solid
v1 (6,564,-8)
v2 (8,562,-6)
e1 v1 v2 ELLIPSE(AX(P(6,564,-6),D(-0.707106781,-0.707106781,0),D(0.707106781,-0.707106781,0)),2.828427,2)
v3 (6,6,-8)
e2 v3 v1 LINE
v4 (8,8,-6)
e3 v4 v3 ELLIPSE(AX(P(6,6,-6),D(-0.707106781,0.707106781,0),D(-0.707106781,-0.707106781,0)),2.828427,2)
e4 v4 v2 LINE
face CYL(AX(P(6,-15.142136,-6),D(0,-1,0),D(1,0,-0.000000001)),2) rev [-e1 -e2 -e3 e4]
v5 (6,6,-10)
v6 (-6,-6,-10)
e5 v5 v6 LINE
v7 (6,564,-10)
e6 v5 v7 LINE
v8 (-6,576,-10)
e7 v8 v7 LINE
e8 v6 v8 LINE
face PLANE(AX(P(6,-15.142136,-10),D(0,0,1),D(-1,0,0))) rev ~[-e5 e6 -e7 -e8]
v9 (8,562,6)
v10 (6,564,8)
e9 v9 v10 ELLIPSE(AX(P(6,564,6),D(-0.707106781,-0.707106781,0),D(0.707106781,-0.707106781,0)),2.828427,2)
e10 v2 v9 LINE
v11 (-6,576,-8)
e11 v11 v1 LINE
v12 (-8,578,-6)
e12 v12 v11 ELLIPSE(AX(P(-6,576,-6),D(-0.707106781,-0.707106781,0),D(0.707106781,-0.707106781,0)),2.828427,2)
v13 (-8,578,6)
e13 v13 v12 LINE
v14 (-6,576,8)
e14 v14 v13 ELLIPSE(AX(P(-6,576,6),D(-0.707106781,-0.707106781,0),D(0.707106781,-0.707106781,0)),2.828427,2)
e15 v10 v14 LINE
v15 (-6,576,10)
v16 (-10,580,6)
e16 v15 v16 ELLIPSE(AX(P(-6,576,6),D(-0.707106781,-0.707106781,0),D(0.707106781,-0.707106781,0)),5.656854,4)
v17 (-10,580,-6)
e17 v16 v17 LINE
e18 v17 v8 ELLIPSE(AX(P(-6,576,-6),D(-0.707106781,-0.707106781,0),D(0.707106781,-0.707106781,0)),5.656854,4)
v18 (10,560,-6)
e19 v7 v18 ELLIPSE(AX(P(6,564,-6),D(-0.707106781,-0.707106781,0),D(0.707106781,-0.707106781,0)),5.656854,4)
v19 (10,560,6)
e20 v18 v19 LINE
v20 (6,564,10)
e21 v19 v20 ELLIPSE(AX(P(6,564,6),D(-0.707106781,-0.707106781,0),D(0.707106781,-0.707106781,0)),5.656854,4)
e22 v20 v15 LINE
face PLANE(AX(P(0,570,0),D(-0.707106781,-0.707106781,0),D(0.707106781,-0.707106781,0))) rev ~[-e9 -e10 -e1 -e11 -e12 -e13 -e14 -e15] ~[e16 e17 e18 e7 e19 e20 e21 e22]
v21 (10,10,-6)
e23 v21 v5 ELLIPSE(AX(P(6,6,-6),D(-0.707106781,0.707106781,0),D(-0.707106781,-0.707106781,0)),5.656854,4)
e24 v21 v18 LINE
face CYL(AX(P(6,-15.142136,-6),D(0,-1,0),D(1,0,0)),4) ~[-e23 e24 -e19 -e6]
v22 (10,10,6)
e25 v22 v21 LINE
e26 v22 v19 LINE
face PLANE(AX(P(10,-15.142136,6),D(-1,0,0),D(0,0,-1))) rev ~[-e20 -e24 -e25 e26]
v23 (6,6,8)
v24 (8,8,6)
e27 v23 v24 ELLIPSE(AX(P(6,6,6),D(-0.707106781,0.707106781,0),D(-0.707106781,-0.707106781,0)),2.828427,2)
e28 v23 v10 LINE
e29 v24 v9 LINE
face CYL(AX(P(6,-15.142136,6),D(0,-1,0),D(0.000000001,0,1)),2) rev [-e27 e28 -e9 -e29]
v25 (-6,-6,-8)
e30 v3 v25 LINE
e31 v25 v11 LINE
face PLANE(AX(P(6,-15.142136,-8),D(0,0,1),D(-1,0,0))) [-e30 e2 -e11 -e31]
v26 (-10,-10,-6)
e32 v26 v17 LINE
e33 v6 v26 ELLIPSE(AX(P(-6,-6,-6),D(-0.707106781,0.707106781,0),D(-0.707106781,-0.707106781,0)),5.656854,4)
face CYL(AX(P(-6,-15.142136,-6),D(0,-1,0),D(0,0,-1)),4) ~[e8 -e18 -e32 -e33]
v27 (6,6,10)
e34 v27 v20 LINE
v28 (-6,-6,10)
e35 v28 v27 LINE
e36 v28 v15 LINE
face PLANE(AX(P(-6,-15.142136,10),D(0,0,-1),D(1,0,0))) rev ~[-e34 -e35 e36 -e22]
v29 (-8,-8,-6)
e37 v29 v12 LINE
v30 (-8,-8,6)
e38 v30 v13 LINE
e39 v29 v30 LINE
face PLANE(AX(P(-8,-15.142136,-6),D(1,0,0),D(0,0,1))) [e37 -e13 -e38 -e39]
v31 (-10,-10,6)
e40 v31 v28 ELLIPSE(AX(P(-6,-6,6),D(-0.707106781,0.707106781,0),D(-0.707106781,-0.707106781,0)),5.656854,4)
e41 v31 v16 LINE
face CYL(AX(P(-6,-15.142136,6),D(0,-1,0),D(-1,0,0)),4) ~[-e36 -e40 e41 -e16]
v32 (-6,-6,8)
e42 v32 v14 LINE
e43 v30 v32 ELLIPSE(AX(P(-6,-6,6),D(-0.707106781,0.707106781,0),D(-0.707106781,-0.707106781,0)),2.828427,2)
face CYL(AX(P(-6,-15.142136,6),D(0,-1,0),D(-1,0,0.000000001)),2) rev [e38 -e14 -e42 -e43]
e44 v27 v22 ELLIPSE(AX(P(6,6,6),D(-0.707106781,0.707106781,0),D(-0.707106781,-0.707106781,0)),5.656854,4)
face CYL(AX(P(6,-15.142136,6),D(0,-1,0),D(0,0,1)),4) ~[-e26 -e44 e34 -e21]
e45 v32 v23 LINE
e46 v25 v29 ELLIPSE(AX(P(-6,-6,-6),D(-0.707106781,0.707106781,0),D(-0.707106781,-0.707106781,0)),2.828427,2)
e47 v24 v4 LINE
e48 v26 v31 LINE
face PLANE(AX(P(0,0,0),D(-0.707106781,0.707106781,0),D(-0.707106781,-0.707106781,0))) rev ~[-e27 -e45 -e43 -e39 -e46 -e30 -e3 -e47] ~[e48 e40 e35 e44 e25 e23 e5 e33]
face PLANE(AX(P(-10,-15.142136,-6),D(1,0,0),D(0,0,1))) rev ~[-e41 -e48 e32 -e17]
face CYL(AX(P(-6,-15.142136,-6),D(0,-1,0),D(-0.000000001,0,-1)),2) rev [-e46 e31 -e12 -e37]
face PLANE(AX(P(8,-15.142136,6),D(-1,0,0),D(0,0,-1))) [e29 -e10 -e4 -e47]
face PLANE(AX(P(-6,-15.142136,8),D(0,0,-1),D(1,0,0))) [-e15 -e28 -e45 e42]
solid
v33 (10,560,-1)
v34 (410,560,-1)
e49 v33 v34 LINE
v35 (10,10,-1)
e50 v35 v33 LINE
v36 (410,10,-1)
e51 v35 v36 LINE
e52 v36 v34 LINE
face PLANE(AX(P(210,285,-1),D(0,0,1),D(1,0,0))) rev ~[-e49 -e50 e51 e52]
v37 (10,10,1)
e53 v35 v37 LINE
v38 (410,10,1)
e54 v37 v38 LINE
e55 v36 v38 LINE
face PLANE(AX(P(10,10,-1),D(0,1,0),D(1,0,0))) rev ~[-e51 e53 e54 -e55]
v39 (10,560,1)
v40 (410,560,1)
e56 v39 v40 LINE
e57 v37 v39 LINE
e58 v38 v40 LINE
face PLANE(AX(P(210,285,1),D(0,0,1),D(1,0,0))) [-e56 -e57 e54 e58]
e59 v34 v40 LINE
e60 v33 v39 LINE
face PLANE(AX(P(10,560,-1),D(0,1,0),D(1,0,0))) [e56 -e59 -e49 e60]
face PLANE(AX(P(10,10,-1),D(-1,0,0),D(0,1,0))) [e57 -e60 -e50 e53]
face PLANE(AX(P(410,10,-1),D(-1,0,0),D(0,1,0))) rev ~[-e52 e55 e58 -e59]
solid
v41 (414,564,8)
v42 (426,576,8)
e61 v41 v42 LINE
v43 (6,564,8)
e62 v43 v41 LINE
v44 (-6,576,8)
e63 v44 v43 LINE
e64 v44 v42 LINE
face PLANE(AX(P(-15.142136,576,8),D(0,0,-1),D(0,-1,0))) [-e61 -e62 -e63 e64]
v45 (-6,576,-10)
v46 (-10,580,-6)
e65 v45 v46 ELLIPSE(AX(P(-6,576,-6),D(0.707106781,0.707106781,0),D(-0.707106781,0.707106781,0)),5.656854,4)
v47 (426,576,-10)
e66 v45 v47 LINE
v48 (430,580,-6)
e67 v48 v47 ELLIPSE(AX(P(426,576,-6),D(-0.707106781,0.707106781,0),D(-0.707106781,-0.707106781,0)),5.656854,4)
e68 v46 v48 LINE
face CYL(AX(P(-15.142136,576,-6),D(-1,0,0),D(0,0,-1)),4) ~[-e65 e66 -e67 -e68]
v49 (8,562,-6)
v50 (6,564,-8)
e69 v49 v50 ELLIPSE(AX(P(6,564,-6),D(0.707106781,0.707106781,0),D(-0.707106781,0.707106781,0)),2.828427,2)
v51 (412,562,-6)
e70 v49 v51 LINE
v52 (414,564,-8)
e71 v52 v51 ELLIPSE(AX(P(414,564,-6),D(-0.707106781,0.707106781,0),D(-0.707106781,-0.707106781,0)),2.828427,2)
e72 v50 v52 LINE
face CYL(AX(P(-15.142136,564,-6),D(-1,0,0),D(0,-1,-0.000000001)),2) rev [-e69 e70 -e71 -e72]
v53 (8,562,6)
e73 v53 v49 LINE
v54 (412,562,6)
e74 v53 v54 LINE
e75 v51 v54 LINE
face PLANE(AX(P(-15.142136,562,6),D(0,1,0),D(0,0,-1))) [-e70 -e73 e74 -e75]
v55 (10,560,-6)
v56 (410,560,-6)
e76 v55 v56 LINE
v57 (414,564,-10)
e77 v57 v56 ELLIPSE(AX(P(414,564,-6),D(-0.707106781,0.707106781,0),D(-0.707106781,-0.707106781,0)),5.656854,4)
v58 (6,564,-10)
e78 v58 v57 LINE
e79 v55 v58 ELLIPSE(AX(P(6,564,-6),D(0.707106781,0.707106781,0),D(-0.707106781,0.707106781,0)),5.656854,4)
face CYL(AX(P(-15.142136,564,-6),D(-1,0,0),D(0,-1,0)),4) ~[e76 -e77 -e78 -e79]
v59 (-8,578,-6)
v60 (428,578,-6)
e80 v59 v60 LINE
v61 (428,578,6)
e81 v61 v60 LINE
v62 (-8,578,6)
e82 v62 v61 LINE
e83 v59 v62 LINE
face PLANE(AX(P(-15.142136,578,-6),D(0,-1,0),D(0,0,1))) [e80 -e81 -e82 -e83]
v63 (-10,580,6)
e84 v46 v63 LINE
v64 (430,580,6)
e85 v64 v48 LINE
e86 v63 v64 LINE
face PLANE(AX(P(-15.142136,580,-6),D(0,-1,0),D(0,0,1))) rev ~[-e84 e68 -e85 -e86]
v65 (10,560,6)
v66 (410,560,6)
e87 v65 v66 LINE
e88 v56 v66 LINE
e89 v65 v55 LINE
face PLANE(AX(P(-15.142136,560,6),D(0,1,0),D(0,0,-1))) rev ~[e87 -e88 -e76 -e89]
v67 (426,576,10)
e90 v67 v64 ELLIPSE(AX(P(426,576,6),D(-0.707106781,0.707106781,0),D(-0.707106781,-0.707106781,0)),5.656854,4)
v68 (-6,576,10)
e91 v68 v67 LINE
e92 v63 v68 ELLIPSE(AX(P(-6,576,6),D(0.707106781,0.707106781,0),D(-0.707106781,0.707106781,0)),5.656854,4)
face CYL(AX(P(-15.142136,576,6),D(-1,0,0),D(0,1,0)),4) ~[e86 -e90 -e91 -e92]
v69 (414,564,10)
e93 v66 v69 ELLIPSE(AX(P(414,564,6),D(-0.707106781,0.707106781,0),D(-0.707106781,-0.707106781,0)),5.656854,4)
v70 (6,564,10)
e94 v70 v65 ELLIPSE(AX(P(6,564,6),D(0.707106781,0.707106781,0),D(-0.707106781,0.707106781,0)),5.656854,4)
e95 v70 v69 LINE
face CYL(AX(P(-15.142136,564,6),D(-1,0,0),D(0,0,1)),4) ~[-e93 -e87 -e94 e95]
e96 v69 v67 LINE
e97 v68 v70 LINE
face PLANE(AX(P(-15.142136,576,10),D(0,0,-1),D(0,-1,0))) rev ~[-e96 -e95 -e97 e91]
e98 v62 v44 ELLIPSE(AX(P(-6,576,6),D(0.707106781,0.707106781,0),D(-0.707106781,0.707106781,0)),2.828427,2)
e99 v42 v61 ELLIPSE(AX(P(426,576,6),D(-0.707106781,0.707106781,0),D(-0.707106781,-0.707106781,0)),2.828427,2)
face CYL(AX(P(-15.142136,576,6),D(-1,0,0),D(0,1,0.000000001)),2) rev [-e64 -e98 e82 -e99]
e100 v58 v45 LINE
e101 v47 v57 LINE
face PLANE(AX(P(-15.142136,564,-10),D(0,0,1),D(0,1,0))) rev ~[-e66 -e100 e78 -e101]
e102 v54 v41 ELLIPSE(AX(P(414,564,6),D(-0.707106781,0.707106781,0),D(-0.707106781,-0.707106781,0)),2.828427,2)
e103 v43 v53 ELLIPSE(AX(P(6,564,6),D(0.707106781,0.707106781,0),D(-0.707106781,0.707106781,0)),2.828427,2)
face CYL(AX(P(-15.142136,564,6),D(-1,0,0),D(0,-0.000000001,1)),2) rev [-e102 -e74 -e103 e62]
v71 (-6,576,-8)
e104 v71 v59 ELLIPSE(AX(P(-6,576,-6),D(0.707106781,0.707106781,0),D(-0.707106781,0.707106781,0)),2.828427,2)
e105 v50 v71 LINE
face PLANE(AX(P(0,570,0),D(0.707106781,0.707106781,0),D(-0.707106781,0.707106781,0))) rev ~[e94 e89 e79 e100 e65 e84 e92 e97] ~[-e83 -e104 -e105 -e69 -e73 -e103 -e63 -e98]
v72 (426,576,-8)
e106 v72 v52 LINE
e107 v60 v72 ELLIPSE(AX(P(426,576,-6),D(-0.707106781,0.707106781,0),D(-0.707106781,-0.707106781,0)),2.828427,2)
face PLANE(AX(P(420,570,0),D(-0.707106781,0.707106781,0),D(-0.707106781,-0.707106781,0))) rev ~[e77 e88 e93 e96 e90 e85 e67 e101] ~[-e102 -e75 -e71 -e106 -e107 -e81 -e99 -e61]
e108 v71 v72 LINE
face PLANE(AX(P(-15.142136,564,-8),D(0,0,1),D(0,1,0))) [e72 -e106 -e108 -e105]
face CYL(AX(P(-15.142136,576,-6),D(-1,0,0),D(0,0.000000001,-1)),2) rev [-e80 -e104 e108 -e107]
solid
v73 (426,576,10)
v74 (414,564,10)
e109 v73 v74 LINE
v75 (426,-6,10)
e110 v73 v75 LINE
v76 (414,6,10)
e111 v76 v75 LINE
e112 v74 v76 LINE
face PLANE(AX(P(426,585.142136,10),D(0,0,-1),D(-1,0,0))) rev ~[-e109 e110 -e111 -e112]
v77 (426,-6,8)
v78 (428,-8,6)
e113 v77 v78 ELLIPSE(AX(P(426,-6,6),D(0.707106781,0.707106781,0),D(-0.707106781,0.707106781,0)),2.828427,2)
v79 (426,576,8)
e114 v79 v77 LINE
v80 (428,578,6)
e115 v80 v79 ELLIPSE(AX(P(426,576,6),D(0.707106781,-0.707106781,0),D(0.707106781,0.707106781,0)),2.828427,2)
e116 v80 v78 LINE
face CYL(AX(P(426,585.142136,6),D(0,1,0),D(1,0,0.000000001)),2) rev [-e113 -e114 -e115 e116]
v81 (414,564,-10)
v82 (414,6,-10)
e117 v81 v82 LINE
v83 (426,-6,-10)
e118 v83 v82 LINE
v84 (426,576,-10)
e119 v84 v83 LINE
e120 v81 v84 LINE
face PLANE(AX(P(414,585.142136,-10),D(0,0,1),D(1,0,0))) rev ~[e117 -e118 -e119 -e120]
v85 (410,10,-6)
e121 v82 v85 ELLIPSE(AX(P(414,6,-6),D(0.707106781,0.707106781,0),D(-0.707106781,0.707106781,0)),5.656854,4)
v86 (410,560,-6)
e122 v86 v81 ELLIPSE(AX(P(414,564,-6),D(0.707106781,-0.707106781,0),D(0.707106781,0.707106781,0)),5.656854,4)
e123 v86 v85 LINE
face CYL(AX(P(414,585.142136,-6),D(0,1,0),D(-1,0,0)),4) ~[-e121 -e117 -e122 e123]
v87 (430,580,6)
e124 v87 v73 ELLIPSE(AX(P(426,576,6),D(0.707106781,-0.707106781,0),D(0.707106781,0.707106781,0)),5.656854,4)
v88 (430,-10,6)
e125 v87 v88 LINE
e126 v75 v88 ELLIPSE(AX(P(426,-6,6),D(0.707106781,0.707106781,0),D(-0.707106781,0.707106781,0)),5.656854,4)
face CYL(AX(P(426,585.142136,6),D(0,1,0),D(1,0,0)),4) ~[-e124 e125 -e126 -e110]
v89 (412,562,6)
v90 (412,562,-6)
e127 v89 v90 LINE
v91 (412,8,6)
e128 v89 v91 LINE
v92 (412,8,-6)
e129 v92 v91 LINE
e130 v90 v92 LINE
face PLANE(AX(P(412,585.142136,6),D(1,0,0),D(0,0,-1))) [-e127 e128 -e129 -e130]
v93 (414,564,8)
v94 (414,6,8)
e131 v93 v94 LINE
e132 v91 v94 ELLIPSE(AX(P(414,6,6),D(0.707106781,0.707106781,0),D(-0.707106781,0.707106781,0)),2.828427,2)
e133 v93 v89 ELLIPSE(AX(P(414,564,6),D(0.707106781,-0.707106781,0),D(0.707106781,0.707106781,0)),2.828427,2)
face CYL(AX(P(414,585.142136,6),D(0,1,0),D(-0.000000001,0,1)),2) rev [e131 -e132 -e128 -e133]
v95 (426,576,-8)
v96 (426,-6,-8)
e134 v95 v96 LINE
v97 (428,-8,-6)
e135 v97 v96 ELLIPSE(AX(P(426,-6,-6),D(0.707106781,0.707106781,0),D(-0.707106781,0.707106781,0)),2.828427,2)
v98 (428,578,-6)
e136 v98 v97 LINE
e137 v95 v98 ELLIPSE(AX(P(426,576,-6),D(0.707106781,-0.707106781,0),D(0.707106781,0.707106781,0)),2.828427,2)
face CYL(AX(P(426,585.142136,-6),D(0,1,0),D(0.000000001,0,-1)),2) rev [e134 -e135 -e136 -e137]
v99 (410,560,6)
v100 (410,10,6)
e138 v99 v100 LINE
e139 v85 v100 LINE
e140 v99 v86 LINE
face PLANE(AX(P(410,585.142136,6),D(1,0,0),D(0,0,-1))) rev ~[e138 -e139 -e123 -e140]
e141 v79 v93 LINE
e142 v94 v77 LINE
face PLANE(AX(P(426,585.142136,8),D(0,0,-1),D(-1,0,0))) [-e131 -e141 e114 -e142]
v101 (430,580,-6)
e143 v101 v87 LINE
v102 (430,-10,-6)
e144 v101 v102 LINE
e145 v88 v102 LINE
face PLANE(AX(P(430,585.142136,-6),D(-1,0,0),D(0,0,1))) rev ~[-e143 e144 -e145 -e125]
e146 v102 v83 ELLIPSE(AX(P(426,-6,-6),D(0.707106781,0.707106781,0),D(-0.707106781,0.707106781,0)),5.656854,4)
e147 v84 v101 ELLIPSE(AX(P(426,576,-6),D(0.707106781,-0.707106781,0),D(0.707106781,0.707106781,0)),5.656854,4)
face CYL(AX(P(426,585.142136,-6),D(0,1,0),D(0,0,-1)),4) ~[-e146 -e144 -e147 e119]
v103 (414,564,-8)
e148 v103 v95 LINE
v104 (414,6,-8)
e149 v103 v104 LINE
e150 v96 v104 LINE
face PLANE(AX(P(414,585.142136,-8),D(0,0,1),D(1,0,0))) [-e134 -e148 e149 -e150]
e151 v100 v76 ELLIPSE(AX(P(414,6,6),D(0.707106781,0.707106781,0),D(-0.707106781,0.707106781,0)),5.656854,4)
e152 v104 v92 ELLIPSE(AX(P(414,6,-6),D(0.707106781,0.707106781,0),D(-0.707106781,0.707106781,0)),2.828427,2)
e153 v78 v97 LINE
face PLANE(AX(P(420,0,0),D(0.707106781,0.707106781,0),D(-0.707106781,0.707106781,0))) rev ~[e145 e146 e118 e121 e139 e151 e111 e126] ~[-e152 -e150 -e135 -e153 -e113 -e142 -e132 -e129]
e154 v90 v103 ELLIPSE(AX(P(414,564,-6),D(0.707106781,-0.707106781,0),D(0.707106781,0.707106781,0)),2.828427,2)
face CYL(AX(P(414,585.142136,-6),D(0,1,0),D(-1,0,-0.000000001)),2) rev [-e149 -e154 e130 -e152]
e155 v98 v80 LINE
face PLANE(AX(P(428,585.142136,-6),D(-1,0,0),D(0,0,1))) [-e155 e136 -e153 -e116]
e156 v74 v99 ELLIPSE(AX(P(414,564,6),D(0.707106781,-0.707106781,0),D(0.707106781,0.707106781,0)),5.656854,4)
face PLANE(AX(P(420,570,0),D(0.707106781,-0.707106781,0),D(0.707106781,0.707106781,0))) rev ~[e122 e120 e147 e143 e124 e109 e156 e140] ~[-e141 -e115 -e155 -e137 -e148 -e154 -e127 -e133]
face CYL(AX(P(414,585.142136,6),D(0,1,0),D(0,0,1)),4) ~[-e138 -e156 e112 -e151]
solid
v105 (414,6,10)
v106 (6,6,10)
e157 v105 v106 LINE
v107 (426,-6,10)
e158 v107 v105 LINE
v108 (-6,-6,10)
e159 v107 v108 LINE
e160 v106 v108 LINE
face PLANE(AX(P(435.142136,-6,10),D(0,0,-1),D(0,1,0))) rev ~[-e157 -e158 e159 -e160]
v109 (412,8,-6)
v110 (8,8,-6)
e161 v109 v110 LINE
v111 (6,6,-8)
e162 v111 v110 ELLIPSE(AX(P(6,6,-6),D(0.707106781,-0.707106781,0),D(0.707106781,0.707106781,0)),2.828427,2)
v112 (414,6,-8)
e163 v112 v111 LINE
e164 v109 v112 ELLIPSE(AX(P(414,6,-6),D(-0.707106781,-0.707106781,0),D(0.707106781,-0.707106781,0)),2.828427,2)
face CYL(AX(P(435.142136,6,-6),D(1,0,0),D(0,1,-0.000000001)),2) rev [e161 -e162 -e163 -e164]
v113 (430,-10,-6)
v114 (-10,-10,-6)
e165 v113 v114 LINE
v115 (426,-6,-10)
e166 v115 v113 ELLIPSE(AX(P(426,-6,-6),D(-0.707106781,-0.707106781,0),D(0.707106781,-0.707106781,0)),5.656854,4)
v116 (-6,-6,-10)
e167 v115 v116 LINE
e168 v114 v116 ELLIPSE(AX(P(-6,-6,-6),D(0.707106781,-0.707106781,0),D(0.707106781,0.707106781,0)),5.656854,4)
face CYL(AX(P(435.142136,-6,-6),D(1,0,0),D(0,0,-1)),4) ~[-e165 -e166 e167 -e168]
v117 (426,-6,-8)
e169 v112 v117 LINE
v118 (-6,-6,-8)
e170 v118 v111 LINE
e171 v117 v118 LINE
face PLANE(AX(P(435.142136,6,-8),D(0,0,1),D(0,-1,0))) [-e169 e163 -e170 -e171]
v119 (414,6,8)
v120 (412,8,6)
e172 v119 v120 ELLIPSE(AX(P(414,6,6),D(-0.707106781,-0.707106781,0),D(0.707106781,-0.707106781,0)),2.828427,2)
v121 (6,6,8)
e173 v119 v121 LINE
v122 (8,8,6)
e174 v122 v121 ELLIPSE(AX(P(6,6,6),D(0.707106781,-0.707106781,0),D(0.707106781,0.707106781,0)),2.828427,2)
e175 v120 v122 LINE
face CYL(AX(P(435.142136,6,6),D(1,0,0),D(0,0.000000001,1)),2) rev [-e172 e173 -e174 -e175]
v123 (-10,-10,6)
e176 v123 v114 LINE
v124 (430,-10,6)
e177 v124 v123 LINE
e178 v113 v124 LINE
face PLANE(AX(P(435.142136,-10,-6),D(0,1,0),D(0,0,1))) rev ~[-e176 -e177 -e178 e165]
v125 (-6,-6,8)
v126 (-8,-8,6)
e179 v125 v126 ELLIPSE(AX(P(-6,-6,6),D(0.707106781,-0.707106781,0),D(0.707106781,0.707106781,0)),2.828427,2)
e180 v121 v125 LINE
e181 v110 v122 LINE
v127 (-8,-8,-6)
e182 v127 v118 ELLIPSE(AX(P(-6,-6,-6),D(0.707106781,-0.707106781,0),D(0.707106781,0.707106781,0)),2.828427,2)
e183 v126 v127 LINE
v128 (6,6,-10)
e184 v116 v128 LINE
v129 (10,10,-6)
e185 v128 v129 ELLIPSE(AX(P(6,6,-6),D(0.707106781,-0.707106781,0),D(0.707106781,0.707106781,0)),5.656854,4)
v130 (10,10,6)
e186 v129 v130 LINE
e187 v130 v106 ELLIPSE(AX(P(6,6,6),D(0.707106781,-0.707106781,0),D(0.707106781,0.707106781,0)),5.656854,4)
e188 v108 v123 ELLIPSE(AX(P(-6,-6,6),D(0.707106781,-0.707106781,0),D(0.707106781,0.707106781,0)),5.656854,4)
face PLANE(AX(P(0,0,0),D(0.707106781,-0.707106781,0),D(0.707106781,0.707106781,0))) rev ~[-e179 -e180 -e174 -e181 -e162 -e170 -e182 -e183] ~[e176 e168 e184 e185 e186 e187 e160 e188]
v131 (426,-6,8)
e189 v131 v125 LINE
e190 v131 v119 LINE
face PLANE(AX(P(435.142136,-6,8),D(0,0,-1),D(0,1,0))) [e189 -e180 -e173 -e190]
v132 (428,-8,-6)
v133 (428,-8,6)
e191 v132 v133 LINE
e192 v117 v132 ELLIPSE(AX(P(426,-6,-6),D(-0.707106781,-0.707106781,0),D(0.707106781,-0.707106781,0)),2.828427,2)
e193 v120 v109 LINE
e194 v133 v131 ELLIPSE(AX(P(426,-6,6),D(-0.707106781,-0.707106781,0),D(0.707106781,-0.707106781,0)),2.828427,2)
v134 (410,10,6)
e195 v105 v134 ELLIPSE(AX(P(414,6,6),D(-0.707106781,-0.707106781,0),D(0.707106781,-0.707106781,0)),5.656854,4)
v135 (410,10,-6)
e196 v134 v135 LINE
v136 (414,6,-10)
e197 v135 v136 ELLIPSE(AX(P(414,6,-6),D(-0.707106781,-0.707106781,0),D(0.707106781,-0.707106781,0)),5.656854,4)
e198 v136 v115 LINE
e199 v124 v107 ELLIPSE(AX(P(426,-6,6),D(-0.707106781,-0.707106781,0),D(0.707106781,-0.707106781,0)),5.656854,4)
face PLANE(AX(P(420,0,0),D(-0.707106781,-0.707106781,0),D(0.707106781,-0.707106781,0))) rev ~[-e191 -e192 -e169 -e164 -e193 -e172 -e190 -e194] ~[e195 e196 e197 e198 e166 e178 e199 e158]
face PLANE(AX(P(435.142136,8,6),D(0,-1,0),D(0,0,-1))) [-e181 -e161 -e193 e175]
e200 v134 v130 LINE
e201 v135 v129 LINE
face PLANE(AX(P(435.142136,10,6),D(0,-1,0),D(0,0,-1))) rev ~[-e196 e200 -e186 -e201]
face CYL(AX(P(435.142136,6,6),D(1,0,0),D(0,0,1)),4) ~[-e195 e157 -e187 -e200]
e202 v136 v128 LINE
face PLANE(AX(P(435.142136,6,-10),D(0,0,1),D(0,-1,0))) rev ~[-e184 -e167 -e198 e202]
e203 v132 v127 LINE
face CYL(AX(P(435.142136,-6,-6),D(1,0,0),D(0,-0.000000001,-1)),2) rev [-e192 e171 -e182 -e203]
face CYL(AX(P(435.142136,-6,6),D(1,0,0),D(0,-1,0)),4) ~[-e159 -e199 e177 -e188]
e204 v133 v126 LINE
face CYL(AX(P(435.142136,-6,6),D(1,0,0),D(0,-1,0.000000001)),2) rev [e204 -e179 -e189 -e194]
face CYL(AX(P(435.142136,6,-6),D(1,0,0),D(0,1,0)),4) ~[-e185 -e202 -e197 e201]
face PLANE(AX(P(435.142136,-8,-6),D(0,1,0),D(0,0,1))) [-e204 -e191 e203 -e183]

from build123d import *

# Parameters (mm, degrees)
RURA_KWADRATOWA_20_X_20_X_2_1_DEPTH      = 585.142135624
RURA_KWADRATOWA_20_X_20_X_2_1_DEPTH_BACK = 15.142135624
RURA_KWADRATOWA_20_X_20_X_2_1_2_DEPTH    = 450.284271247
RURA_KWADRATOWA_20_X_20_X_2_1_3_DEPTH    = 600.284271247
RURA_KWADRATOWA_20_X_20_X_2_1_4_DEPTH    = 450.284271247
DODANIE_WYCI_GNI_CIE1_DEPTH              = 1
DODANIE_WYCI_GNI_CIE1_DEPTH_BACK         = 1
SZKIC9_W                                 = 400
SZKIC9_H                                 = 550


with BuildPart() as part:
    # Sketch1 → Rura kwadratowa 20 X 20 X 2(1) (new, two sides: drawn at the far end of the back side and taken through both)
    with BuildSketch(Plane(origin=(0, 0, 0), x_dir=(1, 0, 0), z_dir=(0, 1, 0)).offset(-RURA_KWADRATOWA_20_X_20_X_2_1_DEPTH_BACK)):
        with BuildLine():
            Line((-6, -10), (6, -10))
            ThreePointArc((6, -10), (8.828427125, -8.828427125), (10, -6))
            Line((10, -6), (10, 6))
            ThreePointArc((10, 6), (8.828427125, 8.828427125), (6, 10))
            Line((6, 10), (-6, 10))
            ThreePointArc((-6, 10), (-8.828427125, 8.828427125), (-10, 6))
            Line((-10, 6), (-10, -6))
            ThreePointArc((-10, -6), (-8.828427125, -8.828427125), (-6, -10))
        make_face()
        with BuildLine():
            Line((-6, -8), (6, -8))
            ThreePointArc((6, -8), (7.414213562, -7.414213562), (8, -6))
            Line((8, -6), (8, 6))
            ThreePointArc((8, 6), (7.414213562, 7.414213562), (6, 8))
            Line((6, 8), (-6, 8))
            ThreePointArc((-6, 8), (-7.414213562, 7.414213562), (-8, 6))
            Line((-8, 6), (-8, -6))
            ThreePointArc((-8, -6), (-7.414213562, -7.414213562), (-6, -8))
        make_face(mode=Mode.SUBTRACT)
    extrude(amount=RURA_KWADRATOWA_20_X_20_X_2_1_DEPTH + RURA_KWADRATOWA_20_X_20_X_2_1_DEPTH_BACK)

    # Rura kwadratowa 20 X 20 X 2(1) mitre 1
    split(bisect_by=Plane(origin=(0, 0, 0), x_dir=(-0.707106781, -0.707106781, 0), z_dir=(-0.707106781, 0.707106781, 0)), keep=Keep.TOP)

    # Rura kwadratowa 20 X 20 X 2(1) mitre 2
    split(bisect_by=Plane(origin=(0, 570, 0), x_dir=(0.707106781, -0.707106781, 0), z_dir=(-0.707106781, -0.707106781, 0)), keep=Keep.TOP)


with BuildPart() as body_2:
    # Sketch1 on segment 2 (carried to segment 2) → Rura kwadratowa 20 X 20 X 2_1 2 (new body)
    with BuildSketch(Plane(origin=(-15.142135624, 570, 0), x_dir=(0, -1, 0), z_dir=(1, 0, 0))):
        with BuildLine():
            Line((-6, -10), (6, -10))
            ThreePointArc((6, -10), (8.828427125, -8.828427125), (10, -6))
            Line((10, -6), (10, 6))
            ThreePointArc((10, 6), (8.828427125, 8.828427125), (6, 10))
            Line((6, 10), (-6, 10))
            ThreePointArc((-6, 10), (-8.828427125, 8.828427125), (-10, 6))
            Line((-10, 6), (-10, -6))
            ThreePointArc((-10, -6), (-8.828427125, -8.828427125), (-6, -10))
        make_face()
        with BuildLine():
            Line((-6, -8), (6, -8))
            ThreePointArc((6, -8), (7.414213562, -7.414213562), (8, -6))
            Line((8, -6), (8, 6))
            ThreePointArc((8, 6), (7.414213562, 7.414213562), (6, 8))
            Line((6, 8), (-6, 8))
            ThreePointArc((-6, 8), (-7.414213562, 7.414213562), (-8, 6))
            Line((-8, 6), (-8, -6))
            ThreePointArc((-8, -6), (-7.414213562, -7.414213562), (-6, -8))
        make_face(mode=Mode.SUBTRACT)
    extrude(amount=RURA_KWADRATOWA_20_X_20_X_2_1_2_DEPTH)

    # Rura kwadratowa 20 X 20 X 2_1 2 mitre 1
    split(bisect_by=Plane(origin=(0, 570, 0), x_dir=(-0.707106781, 0.707106781, 0), z_dir=(0.707106781, 0.707106781, 0)), keep=Keep.TOP)

    # Rura kwadratowa 20 X 20 X 2_1 2 mitre 2
    split(bisect_by=Plane(origin=(420, 570, 0), x_dir=(-0.707106781, -0.707106781, 0), z_dir=(-0.707106781, 0.707106781, 0)), keep=Keep.TOP)


with BuildPart() as body_3:
    # Sketch1 on segment 3 (carried to segment 3) → Rura kwadratowa 20 X 20 X 2_1 3 (new body)
    with BuildSketch(Plane(origin=(420, 585.142135624, 0), x_dir=(-1, 0, 0), z_dir=(0, -1, 0))):
        with BuildLine():
            Line((-6, -10), (6, -10))
            ThreePointArc((6, -10), (8.828427125, -8.828427125), (10, -6))
            Line((10, -6), (10, 6))
            ThreePointArc((10, 6), (8.828427125, 8.828427125), (6, 10))
            Line((6, 10), (-6, 10))
            ThreePointArc((-6, 10), (-8.828427125, 8.828427125), (-10, 6))
            Line((-10, 6), (-10, -6))
            ThreePointArc((-10, -6), (-8.828427125, -8.828427125), (-6, -10))
        make_face()
        with BuildLine():
            Line((-6, -8), (6, -8))
            ThreePointArc((6, -8), (7.414213562, -7.414213562), (8, -6))
            Line((8, -6), (8, 6))
            ThreePointArc((8, 6), (7.414213562, 7.414213562), (6, 8))
            Line((6, 8), (-6, 8))
            ThreePointArc((-6, 8), (-7.414213562, 7.414213562), (-8, 6))
            Line((-8, 6), (-8, -6))
            ThreePointArc((-8, -6), (-7.414213562, -7.414213562), (-6, -8))
        make_face(mode=Mode.SUBTRACT)
    extrude(amount=RURA_KWADRATOWA_20_X_20_X_2_1_3_DEPTH)

    # Rura kwadratowa 20 X 20 X 2_1 3 mitre 1
    split(bisect_by=Plane(origin=(420, 0, 0), x_dir=(-0.707106781, 0.707106781, 0), z_dir=(0.707106781, 0.707106781, 0)), keep=Keep.TOP)

    # Rura kwadratowa 20 X 20 X 2_1 3 mitre 2
    split(bisect_by=Plane(origin=(420, 570, 0), x_dir=(0.707106781, 0.707106781, 0), z_dir=(0.707106781, -0.707106781, 0)), keep=Keep.TOP)


with BuildPart() as body_4:
    # Sketch1 on segment 4 (carried to segment 4) → Rura kwadratowa 20 X 20 X 2_1 4 (new body)
    with BuildSketch(Plane(origin=(435.142135624, 0, 0), x_dir=(0, 1, 0), z_dir=(-1, 0, 0))):
        with BuildLine():
            Line((-6, -10), (6, -10))
            ThreePointArc((6, -10), (8.828427125, -8.828427125), (10, -6))
            Line((10, -6), (10, 6))
            ThreePointArc((10, 6), (8.828427125, 8.828427125), (6, 10))
            Line((6, 10), (-6, 10))
            ThreePointArc((-6, 10), (-8.828427125, 8.828427125), (-10, 6))
            Line((-10, 6), (-10, -6))
            ThreePointArc((-10, -6), (-8.828427125, -8.828427125), (-6, -10))
        make_face()
        with BuildLine():
            Line((-6, -8), (6, -8))
            ThreePointArc((6, -8), (7.414213562, -7.414213562), (8, -6))
            Line((8, -6), (8, 6))
            ThreePointArc((8, 6), (7.414213562, 7.414213562), (6, 8))
            Line((6, 8), (-6, 8))
            ThreePointArc((-6, 8), (-7.414213562, 7.414213562), (-8, 6))
            Line((-8, 6), (-8, -6))
            ThreePointArc((-8, -6), (-7.414213562, -7.414213562), (-6, -8))
        make_face(mode=Mode.SUBTRACT)
    extrude(amount=RURA_KWADRATOWA_20_X_20_X_2_1_4_DEPTH)

    # Rura kwadratowa 20 X 20 X 2_1 4 mitre 1
    split(bisect_by=Plane(origin=(0, 0, 0), x_dir=(0.707106781, 0.707106781, 0), z_dir=(0.707106781, -0.707106781, 0)), keep=Keep.TOP)

    # Rura kwadratowa 20 X 20 X 2_1 4 mitre 2
    split(bisect_by=Plane(origin=(420, 0, 0), x_dir=(0.707106781, -0.707106781, 0), z_dir=(-0.707106781, -0.707106781, 0)), keep=Keep.TOP)


with BuildPart() as body_5:
    # Szkic9 → Dodanie-wyciągnięcie1 (new, two sides: drawn at the far end of the back side and taken through both)
    with BuildSketch(Plane.XY.offset(-DODANIE_WYCI_GNI_CIE1_DEPTH_BACK)):
        with Locations((210, 285)):
            Rectangle(SZKIC9_W, SZKIC9_H)
    extrude(amount=DODANIE_WYCI_GNI_CIE1_DEPTH + DODANIE_WYCI_GNI_CIE1_DEPTH_BACK)


solid = Compound([part.part, body_2.part, body_3.part, body_4.part, body_5.part])
